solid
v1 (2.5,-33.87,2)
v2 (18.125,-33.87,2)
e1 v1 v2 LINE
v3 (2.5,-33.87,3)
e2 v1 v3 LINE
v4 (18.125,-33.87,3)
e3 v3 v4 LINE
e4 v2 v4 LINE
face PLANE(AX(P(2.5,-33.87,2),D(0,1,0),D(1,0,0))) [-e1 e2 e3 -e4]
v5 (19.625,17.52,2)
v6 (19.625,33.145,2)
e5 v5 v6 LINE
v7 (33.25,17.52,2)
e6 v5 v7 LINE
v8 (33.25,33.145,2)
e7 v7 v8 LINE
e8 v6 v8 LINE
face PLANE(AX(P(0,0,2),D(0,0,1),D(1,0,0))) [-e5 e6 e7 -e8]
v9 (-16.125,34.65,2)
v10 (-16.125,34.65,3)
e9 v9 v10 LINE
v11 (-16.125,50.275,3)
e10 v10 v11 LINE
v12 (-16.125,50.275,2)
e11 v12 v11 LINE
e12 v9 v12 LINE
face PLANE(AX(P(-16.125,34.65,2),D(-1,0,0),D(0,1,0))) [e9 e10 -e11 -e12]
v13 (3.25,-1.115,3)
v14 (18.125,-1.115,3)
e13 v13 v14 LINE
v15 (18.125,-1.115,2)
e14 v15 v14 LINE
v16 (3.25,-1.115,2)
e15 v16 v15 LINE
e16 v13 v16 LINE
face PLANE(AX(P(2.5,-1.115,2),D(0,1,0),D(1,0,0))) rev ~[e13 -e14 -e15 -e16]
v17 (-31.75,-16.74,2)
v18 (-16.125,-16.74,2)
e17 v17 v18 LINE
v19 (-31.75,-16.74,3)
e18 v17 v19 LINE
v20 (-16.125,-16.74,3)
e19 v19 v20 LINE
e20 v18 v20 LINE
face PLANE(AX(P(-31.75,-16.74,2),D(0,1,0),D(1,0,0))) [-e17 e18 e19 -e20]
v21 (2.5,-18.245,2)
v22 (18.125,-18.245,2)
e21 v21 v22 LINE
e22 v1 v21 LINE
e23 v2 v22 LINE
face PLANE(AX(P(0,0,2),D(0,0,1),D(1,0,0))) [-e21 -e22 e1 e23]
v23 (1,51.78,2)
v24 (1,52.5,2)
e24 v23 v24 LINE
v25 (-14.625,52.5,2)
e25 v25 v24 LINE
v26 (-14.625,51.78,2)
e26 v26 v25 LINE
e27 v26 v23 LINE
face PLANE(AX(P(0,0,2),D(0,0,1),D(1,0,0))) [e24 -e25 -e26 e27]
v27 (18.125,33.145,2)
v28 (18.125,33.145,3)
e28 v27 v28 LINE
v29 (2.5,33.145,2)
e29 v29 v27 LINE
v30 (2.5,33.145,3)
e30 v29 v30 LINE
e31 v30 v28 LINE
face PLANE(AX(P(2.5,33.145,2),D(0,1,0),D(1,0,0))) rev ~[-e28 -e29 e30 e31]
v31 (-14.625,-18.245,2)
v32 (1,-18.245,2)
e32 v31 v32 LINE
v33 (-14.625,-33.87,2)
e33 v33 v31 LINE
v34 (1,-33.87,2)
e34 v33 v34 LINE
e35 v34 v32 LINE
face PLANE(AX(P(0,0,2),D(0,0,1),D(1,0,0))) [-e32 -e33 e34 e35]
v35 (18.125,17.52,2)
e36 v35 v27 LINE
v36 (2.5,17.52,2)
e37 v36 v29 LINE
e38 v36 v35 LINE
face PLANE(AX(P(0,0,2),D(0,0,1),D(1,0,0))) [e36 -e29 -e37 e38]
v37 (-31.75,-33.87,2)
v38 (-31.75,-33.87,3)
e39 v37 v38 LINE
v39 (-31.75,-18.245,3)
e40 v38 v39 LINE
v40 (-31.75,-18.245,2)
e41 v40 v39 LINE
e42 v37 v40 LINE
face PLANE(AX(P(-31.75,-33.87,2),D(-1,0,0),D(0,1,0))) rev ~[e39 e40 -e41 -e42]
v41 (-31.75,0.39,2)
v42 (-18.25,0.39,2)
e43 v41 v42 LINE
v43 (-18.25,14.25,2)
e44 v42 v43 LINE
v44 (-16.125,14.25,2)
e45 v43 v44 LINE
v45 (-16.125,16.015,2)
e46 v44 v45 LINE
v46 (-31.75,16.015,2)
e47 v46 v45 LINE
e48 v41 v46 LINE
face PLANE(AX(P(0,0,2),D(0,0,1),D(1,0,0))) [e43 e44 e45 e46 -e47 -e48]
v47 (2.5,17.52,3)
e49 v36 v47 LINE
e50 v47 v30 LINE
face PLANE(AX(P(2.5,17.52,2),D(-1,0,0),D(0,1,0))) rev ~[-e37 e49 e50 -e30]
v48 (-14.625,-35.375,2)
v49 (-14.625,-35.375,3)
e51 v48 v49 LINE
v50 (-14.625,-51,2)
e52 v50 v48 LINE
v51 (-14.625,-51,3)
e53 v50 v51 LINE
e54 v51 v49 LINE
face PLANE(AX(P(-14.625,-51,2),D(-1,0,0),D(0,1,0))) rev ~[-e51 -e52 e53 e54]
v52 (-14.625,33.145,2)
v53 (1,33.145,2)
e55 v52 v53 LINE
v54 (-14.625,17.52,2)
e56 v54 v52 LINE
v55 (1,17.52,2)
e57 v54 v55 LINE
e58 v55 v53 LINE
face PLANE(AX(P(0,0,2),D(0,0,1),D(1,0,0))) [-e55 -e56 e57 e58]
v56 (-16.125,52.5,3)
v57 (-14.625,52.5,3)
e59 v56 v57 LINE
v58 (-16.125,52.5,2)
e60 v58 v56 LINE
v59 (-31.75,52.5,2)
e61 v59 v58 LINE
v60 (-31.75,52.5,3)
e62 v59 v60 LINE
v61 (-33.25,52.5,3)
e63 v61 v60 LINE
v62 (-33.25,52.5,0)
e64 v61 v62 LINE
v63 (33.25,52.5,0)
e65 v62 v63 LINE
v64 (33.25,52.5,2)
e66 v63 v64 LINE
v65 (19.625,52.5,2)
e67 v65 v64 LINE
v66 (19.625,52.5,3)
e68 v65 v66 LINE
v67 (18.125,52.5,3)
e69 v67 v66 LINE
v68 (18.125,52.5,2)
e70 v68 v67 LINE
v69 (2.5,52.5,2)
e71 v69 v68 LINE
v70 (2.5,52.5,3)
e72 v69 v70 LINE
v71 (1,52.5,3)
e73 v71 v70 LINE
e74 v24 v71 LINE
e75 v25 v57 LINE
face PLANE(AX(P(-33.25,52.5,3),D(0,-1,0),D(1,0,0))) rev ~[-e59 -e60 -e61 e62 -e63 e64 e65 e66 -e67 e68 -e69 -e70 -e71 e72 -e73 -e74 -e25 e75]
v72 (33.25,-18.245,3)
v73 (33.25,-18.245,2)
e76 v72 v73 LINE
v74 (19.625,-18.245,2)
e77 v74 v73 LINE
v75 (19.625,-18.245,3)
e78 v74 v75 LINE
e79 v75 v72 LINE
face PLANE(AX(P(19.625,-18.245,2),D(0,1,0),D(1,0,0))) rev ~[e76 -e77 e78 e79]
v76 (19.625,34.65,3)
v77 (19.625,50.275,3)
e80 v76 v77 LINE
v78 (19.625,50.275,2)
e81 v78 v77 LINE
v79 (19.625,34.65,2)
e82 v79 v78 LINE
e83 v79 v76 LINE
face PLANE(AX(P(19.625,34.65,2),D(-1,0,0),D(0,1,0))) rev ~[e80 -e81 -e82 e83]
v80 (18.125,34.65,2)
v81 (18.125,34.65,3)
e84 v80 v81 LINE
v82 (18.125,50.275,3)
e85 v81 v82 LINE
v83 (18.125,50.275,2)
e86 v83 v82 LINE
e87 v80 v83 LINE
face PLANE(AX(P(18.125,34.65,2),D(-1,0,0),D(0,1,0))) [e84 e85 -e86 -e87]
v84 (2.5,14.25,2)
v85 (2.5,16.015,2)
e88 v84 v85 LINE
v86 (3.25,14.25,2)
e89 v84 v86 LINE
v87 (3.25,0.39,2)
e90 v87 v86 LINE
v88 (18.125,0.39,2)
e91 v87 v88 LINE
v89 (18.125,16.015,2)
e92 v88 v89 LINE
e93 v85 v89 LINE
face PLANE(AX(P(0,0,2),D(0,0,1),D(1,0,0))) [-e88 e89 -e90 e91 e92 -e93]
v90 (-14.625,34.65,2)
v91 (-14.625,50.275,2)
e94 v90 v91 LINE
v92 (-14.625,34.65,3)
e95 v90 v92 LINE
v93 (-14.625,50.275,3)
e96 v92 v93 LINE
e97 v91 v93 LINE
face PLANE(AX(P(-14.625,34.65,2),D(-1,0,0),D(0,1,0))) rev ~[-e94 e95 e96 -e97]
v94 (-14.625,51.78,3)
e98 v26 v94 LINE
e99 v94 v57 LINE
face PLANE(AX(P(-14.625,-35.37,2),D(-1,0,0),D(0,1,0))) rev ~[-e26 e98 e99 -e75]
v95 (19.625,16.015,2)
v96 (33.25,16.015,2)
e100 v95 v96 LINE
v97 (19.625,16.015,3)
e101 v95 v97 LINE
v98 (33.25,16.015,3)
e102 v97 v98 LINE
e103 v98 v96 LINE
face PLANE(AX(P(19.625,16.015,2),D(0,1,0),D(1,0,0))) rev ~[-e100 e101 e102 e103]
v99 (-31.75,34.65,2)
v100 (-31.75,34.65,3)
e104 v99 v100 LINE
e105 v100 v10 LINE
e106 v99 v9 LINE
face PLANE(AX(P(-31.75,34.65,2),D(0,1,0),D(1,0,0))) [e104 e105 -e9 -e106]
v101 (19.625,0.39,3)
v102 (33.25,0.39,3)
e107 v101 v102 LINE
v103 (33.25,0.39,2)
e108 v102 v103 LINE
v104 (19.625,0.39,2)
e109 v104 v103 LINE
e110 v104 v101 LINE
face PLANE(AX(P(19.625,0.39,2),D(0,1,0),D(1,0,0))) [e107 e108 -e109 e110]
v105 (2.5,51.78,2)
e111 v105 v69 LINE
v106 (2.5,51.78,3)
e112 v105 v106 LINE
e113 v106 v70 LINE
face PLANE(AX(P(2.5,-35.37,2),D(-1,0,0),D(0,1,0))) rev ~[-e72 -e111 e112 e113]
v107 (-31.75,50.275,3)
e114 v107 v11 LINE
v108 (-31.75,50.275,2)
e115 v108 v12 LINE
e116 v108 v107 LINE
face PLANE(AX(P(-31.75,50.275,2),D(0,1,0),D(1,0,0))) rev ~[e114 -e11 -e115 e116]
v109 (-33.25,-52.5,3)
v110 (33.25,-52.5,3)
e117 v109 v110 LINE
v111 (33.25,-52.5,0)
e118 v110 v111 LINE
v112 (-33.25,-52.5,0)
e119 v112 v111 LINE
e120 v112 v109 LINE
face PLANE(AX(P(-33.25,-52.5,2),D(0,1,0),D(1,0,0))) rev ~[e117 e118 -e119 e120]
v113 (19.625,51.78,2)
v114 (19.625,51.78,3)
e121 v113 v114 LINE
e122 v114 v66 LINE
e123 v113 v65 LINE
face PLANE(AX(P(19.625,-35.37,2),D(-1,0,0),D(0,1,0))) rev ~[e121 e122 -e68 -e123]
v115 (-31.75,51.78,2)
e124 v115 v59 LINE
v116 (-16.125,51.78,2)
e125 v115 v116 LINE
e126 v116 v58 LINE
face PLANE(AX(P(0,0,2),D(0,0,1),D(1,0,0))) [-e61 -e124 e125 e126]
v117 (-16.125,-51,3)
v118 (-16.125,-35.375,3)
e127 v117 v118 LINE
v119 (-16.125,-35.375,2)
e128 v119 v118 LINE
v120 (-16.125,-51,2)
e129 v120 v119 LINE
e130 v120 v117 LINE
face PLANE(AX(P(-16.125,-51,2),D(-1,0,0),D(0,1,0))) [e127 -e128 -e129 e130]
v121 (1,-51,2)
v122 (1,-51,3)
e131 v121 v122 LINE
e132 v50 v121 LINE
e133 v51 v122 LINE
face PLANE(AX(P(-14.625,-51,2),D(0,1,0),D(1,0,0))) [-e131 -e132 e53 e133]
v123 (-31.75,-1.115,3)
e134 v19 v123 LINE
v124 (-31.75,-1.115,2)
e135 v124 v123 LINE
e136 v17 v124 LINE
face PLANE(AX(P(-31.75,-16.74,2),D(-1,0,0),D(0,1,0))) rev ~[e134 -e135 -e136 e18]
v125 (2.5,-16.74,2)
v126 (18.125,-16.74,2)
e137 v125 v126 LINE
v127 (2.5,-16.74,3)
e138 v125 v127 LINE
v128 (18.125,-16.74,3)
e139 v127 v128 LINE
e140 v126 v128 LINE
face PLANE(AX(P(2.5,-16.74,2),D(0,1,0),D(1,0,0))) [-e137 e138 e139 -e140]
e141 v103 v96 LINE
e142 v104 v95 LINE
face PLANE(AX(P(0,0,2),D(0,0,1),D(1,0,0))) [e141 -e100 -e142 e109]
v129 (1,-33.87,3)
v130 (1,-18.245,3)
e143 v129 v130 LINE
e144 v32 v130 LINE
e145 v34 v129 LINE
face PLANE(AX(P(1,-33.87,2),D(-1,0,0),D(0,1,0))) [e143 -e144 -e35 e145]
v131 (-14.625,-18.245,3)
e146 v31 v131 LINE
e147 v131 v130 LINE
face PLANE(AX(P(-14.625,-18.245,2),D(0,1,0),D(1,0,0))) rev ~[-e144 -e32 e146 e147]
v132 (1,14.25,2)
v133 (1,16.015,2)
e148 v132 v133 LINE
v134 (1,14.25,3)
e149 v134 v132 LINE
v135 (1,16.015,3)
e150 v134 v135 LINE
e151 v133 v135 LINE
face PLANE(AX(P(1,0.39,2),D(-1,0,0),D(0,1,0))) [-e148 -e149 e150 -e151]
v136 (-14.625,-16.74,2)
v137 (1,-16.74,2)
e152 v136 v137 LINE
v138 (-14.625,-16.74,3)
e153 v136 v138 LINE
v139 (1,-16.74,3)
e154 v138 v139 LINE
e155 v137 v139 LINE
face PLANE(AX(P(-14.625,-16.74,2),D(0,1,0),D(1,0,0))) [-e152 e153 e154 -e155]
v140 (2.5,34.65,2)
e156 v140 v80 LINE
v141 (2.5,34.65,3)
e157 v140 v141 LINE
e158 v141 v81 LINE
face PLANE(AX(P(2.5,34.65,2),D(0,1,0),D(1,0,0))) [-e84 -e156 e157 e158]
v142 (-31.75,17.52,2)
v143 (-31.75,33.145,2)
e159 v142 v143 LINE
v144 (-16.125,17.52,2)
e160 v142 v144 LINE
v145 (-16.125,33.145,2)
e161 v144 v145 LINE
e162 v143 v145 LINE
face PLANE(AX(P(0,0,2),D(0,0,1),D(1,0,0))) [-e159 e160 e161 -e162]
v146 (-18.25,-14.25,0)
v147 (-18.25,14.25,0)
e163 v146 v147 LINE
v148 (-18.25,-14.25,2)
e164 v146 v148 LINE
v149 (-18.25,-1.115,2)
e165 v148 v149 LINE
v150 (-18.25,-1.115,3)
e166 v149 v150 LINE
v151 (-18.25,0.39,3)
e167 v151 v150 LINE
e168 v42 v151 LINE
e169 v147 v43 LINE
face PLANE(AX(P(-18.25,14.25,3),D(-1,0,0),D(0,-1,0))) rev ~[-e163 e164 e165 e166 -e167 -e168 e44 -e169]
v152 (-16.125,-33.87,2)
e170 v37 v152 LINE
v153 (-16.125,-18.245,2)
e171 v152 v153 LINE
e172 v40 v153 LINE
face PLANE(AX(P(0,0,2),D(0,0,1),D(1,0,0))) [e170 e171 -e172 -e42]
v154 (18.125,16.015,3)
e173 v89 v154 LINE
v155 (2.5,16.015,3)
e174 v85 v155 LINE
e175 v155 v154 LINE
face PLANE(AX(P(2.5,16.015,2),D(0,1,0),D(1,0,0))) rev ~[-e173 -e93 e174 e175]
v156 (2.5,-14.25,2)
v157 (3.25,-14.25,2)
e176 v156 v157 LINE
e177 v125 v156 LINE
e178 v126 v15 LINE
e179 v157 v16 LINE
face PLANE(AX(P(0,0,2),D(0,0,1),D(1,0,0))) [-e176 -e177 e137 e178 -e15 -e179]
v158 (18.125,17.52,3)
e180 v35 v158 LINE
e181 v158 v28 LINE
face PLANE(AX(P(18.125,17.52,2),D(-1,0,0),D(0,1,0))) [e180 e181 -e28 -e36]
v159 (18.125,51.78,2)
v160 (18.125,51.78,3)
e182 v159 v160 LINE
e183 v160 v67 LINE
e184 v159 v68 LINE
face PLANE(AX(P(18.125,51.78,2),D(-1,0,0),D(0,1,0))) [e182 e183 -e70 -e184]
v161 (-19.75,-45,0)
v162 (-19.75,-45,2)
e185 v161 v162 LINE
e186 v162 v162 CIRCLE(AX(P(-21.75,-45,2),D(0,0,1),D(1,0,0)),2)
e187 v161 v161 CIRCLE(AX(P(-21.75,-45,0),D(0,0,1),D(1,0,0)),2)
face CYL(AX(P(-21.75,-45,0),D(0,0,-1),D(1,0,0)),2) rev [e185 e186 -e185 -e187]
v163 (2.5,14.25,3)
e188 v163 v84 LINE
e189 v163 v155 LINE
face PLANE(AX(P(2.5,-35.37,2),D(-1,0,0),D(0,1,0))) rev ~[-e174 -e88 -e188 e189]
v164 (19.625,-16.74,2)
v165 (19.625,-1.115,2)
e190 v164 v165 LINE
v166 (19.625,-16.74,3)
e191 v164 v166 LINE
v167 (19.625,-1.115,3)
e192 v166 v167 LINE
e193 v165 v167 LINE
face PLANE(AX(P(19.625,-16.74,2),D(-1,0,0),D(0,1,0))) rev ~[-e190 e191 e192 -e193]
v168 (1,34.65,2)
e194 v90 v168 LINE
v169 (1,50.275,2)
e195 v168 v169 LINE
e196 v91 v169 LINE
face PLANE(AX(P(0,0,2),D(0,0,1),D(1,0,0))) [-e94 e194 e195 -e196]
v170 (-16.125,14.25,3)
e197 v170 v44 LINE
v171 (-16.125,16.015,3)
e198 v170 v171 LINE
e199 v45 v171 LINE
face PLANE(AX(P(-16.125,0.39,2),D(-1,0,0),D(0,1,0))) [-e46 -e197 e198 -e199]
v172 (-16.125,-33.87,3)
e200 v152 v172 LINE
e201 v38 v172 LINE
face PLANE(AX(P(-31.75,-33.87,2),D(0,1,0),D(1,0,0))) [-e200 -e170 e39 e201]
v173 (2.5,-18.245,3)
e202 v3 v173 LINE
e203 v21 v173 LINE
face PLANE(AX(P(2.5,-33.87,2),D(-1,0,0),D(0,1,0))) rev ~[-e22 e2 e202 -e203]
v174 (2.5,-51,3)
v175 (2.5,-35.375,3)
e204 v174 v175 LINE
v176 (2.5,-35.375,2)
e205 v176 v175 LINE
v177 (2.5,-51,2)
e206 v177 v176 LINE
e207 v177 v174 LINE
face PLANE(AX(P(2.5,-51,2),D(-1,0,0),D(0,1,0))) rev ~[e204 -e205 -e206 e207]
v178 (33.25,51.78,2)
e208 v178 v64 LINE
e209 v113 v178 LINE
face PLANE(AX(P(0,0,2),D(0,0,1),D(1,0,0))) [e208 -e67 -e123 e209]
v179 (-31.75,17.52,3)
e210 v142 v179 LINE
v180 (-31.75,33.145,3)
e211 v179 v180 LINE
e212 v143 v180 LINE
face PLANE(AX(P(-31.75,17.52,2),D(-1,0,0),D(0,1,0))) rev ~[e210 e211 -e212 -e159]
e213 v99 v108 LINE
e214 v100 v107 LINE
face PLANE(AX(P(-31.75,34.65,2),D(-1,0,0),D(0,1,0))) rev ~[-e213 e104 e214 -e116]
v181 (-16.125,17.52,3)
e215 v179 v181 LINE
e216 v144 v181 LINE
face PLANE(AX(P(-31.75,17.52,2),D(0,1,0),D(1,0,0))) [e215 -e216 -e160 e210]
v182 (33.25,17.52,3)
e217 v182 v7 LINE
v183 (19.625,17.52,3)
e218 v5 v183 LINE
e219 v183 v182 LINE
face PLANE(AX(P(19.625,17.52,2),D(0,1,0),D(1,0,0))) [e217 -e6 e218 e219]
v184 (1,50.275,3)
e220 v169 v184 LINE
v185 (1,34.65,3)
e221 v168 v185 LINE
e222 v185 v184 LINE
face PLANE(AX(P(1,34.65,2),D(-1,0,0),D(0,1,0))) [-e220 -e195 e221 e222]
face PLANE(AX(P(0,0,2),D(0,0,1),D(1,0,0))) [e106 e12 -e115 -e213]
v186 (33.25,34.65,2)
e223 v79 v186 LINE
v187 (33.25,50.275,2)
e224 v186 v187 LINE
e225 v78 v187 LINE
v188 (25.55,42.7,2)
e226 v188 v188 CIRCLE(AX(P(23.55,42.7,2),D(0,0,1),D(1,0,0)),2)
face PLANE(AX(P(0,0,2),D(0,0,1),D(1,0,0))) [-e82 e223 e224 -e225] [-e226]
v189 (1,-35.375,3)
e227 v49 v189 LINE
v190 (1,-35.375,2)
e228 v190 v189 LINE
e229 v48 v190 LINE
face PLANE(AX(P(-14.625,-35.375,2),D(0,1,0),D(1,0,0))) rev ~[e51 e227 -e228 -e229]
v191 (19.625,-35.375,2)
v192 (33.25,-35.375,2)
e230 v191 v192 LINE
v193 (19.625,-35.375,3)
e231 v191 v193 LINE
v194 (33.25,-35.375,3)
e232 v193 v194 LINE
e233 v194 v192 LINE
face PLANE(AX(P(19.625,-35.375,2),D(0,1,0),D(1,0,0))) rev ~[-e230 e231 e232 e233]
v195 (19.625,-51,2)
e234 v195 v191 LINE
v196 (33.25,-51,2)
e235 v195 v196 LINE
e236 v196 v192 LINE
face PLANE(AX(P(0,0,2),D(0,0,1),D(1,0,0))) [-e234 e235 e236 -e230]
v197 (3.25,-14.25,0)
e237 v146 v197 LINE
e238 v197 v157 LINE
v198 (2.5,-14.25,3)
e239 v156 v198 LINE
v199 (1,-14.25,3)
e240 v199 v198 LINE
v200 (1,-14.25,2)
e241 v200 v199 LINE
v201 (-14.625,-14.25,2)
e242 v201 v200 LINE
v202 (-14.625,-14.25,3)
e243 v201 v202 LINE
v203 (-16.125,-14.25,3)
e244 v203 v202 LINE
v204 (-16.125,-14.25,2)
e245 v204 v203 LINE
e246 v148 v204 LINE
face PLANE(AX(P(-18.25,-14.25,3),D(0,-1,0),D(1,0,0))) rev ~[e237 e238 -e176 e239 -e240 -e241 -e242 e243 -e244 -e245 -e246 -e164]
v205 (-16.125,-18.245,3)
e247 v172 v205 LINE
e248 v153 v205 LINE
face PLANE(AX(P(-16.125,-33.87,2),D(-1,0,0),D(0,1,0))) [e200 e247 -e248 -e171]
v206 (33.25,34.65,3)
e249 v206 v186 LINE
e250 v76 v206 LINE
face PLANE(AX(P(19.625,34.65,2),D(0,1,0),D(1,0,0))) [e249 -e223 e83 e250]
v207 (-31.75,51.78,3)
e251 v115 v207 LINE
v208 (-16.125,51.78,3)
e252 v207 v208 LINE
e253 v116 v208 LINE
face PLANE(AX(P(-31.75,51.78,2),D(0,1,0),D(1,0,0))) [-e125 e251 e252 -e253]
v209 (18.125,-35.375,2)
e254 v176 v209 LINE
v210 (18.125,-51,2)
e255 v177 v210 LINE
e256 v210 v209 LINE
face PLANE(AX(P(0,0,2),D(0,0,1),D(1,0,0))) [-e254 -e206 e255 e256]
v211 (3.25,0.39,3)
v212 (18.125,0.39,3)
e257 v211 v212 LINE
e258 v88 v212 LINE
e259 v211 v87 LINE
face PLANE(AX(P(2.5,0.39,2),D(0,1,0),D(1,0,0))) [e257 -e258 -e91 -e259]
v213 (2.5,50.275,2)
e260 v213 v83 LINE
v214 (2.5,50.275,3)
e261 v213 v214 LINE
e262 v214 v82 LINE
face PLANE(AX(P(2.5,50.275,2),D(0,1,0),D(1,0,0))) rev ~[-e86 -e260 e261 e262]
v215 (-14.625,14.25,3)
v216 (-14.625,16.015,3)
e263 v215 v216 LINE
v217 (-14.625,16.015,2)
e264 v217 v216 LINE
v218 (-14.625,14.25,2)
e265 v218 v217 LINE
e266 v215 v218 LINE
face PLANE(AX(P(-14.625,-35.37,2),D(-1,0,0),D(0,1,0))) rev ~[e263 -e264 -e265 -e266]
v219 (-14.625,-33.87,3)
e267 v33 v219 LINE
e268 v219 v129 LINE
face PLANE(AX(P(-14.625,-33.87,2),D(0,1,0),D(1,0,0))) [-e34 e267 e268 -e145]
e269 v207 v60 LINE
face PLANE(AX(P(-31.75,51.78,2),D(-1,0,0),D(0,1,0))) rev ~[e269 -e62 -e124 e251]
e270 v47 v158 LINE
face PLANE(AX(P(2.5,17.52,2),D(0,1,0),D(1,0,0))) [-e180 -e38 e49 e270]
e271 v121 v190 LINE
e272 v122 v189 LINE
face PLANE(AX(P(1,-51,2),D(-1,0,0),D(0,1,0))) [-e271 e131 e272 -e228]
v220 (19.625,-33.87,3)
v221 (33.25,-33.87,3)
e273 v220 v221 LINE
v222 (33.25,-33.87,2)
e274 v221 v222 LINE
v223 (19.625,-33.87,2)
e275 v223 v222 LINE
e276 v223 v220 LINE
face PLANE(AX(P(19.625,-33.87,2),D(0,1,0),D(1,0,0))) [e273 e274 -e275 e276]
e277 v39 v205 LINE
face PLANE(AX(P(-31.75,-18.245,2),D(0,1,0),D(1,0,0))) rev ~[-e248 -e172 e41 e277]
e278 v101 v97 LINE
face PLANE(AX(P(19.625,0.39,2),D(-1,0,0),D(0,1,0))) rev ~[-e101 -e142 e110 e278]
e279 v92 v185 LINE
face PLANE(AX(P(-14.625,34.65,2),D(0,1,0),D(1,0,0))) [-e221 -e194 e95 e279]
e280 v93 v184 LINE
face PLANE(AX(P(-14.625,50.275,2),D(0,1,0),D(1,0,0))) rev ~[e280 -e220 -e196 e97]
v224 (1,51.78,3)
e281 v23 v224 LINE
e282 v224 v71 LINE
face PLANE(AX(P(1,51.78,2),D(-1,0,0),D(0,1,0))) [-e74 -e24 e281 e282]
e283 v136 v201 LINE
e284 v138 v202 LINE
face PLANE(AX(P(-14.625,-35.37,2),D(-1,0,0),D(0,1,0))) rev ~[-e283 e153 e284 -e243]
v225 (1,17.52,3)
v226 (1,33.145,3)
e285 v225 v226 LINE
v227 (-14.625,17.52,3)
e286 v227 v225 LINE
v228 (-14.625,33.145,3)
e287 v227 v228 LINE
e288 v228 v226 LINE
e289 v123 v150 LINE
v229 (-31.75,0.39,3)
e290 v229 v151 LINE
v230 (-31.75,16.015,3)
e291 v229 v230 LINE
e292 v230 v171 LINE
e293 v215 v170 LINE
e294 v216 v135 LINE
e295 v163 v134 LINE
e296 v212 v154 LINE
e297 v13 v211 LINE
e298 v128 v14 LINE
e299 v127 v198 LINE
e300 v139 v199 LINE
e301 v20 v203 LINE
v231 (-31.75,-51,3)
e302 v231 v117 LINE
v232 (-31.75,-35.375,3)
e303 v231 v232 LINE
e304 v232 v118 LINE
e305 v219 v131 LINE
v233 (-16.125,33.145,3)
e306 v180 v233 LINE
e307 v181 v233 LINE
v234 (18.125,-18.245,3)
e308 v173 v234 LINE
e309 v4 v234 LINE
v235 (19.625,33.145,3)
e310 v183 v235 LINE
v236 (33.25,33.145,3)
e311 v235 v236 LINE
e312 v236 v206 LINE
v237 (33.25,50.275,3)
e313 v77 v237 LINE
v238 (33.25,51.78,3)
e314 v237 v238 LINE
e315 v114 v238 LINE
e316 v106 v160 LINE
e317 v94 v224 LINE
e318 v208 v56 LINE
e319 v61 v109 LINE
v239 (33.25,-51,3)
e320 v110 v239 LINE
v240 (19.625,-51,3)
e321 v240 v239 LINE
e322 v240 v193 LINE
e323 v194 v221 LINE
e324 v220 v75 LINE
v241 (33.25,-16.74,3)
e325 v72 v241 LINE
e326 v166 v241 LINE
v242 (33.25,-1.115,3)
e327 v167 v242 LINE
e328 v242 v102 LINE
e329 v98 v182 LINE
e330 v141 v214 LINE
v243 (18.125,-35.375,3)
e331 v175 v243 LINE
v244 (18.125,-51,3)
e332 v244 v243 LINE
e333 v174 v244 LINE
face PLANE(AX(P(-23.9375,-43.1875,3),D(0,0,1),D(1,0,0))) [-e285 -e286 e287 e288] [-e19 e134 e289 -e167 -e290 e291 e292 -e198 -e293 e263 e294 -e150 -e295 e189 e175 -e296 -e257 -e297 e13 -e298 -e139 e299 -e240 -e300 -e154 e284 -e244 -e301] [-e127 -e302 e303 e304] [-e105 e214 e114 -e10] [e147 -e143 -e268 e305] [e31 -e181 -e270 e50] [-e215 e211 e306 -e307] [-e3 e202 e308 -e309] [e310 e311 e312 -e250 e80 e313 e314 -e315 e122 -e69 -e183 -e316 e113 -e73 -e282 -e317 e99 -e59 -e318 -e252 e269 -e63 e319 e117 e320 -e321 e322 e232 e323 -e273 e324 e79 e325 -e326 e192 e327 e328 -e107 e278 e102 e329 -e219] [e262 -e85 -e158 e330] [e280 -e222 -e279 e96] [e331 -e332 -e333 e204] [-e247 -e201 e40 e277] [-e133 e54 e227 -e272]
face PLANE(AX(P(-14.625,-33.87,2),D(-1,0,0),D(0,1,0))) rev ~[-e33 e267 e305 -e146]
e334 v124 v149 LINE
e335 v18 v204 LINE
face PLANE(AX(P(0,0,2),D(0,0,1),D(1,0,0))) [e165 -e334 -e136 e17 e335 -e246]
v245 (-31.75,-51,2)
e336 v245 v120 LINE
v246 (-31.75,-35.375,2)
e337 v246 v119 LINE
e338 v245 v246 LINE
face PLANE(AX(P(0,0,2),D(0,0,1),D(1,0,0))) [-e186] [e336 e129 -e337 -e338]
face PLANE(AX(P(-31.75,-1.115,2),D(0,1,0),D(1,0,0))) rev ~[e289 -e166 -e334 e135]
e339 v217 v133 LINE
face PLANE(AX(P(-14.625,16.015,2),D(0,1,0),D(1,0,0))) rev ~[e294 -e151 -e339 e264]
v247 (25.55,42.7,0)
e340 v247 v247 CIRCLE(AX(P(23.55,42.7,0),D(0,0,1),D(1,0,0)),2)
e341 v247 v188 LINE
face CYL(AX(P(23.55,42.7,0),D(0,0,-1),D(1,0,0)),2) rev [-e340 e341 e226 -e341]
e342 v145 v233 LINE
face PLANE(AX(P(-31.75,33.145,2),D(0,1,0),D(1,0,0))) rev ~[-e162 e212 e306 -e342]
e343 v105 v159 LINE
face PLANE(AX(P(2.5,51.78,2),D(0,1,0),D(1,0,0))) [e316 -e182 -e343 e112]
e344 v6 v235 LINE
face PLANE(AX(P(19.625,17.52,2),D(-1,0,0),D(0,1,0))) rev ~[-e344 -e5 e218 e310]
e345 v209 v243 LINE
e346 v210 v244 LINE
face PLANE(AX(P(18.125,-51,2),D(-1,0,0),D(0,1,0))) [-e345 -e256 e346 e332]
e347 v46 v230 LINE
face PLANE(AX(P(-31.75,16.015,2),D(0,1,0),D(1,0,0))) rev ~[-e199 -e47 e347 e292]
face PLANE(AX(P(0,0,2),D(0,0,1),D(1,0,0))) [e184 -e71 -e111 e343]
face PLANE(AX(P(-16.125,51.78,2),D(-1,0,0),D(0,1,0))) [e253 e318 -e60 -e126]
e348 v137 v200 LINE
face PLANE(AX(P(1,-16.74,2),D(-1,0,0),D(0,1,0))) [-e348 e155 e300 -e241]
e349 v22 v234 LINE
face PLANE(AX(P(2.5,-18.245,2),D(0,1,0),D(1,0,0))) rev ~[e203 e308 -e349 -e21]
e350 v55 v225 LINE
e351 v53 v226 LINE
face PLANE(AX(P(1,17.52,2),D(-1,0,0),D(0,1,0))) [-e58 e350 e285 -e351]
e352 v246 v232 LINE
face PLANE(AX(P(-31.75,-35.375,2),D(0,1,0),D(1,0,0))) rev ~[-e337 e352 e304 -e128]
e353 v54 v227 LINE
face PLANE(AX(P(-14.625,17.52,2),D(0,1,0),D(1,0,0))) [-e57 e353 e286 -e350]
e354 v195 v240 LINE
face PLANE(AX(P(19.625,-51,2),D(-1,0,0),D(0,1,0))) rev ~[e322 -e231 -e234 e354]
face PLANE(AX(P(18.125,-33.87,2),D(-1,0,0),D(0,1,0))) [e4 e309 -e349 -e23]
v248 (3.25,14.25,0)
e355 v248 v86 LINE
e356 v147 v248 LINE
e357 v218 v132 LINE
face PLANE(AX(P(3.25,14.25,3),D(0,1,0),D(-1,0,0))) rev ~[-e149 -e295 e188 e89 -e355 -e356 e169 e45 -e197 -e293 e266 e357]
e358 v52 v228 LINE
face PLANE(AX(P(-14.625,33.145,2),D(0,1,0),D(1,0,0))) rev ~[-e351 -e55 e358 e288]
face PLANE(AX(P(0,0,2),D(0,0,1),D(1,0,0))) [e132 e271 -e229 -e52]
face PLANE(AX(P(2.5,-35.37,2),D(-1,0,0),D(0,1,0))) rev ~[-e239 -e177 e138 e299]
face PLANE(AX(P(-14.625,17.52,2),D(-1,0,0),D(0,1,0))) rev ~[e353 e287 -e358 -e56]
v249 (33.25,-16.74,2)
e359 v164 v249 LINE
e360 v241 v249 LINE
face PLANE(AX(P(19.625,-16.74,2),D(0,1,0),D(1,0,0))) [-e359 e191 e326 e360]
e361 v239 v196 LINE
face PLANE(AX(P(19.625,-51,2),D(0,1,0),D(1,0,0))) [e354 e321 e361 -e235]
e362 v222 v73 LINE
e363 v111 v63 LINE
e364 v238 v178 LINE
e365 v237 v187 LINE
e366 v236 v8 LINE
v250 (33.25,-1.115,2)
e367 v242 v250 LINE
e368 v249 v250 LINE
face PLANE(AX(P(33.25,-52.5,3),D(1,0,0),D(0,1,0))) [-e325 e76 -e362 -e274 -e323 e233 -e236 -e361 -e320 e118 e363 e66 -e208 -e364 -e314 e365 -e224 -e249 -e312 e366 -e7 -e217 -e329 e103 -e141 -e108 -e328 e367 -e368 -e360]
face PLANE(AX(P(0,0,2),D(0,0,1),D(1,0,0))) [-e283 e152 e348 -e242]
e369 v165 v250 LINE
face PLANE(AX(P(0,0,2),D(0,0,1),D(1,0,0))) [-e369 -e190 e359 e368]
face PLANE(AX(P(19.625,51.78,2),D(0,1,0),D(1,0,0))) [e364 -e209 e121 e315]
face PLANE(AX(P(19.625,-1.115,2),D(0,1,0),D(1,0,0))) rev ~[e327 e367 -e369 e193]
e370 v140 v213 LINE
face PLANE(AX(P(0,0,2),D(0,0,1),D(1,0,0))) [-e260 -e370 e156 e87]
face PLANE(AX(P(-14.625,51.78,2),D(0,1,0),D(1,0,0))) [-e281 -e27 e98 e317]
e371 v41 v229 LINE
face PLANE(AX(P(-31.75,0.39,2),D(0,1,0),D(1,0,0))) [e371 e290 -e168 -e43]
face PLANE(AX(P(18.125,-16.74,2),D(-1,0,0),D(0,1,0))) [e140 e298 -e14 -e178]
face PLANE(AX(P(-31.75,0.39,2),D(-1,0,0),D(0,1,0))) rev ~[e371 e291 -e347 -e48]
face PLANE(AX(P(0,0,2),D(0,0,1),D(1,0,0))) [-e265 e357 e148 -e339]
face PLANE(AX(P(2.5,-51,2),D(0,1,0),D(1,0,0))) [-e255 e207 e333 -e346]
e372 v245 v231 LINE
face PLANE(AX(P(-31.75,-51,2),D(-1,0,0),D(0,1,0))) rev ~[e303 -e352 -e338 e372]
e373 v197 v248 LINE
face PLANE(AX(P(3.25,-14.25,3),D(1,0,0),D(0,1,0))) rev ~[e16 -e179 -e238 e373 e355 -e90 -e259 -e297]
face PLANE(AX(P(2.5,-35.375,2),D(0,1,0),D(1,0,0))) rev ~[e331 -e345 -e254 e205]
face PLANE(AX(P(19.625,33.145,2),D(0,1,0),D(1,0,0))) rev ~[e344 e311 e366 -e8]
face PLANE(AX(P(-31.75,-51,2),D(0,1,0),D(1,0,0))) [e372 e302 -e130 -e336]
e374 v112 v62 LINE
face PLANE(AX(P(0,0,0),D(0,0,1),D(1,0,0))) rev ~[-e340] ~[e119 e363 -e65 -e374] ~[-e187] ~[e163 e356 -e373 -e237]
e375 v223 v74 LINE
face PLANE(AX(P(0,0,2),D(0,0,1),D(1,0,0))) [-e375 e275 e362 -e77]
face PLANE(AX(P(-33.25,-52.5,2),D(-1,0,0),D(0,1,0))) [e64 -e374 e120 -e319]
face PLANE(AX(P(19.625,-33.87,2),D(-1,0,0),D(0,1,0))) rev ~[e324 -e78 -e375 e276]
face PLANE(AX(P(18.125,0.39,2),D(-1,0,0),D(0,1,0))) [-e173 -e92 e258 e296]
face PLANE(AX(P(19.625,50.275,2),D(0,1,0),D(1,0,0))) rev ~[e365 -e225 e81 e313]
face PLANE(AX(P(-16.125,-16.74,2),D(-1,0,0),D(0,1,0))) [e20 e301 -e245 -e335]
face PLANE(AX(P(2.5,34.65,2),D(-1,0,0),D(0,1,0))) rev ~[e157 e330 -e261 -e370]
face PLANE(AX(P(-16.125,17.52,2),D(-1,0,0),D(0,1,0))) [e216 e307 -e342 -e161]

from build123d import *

# Parameters (mm, degrees)
SKETCH_W                      = 66.5
SKETCH_H                      = 105
SKETCH_R                      = 2
SKETCH_W_2                    = 21.5
SKETCH_H_2                    = 28.5
PAD_DEPTH                     = 2
SKETCH002_W                   = 18.625
SKETCH002_H                   = 18.625
SKETCH002_W_2                 = 15.625
SKETCH002_H_2                 = 15.625
PAD002_DEPTH                  = 1
SKETCH002_LINEARPATTERN_2_W   = 18.625
SKETCH002_LINEARPATTERN_2_H   = 18.625
SKETCH002_LINEARPATTERN_2_W_2 = 15.625
SKETCH002_LINEARPATTERN_2_H_2 = 15.625
PAD002_LINEARPATTERN_2_DEPTH  = 1
SKETCH002_LINEARPATTERN_3_W   = 18.625
SKETCH002_LINEARPATTERN_3_H   = 18.625
SKETCH002_LINEARPATTERN_3_W_2 = 15.625
SKETCH002_LINEARPATTERN_3_H_2 = 15.625
PAD002_LINEARPATTERN_3_DEPTH  = 1
SKETCH002_LINEARPATTERN_4_W   = 18.625
SKETCH002_LINEARPATTERN_4_H   = 18.625
SKETCH002_LINEARPATTERN_4_W_2 = 15.625
SKETCH002_LINEARPATTERN_4_H_2 = 15.625
PAD002_LINEARPATTERN_4_DEPTH  = 1
LINEARPATTERN002_COUNT        = 9
LINEARPATTERN002_PITCH        = 17.13
SKETCH003_W                   = 150.48745
SKETCH003_H                   = 190.076035
SKETCH003_W_2                 = 66.5
SKETCH003_H_2                 = 105
POCKET_DEPTH                  = 5


with BuildPart() as part:
    # Sketch (on XY_Plane of Origin) → Pad (new body)
    with BuildSketch(Plane.XY):
        Rectangle(SKETCH_W, SKETCH_H)
        with Locations((-21.75, -45)):
            Circle(SKETCH_R, mode=Mode.SUBTRACT)
        with Locations((23.55, 42.7)):
            Circle(SKETCH_R, mode=Mode.SUBTRACT)
        with Locations((-7.5, 0)):
            Rectangle(SKETCH_W_2, SKETCH_H_2, mode=Mode.SUBTRACT)
    extrude(amount=PAD_DEPTH)

    # Sketch002 (on Face12 of Pad) → Pad002 (join)
    with BuildSketch(Plane.XY.offset(2)):
        with Locations((-23.9375, -43.1875)):
            Rectangle(SKETCH002_W, SKETCH002_H)
        with Locations((-23.9375, -43.1875)):
            Rectangle(SKETCH002_W_2, SKETCH002_H_2, mode=Mode.SUBTRACT)
    pad002 = extrude(amount=PAD002_DEPTH)

    # Sketch002 LinearPattern 2 → Pad002 LinearPattern 2 (add)
    with BuildSketch(Plane(origin=(17.125, 0, 2), x_dir=(1, 0, 0), z_dir=(0, 0, 1))):
        with Locations((-23.9375, -43.1875)):
            Rectangle(SKETCH002_LINEARPATTERN_2_W, SKETCH002_LINEARPATTERN_2_H)
        with Locations((-23.9375, -43.1875)):
            Rectangle(SKETCH002_LINEARPATTERN_2_W_2, SKETCH002_LINEARPATTERN_2_H_2, mode=Mode.SUBTRACT)
    pad002_linearpattern_2 = extrude(amount=PAD002_LINEARPATTERN_2_DEPTH)

    # Sketch002 LinearPattern 3 → Pad002 LinearPattern 3 (add)
    with BuildSketch(Plane(origin=(34.25, 0, 2), x_dir=(1, 0, 0), z_dir=(0, 0, 1))):
        with Locations((-23.9375, -43.1875)):
            Rectangle(SKETCH002_LINEARPATTERN_3_W, SKETCH002_LINEARPATTERN_3_H)
        with Locations((-23.9375, -43.1875)):
            Rectangle(SKETCH002_LINEARPATTERN_3_W_2, SKETCH002_LINEARPATTERN_3_H_2, mode=Mode.SUBTRACT)
    pad002_linearpattern_3 = extrude(amount=PAD002_LINEARPATTERN_3_DEPTH)

    # Sketch002 LinearPattern 4 → Pad002 LinearPattern 4 (add)
    with BuildSketch(Plane(origin=(51.375, 0, 2), x_dir=(1, 0, 0), z_dir=(0, 0, 1))):
        with Locations((-23.9375, -43.1875)):
            Rectangle(SKETCH002_LINEARPATTERN_4_W, SKETCH002_LINEARPATTERN_4_H)
        with Locations((-23.9375, -43.1875)):
            Rectangle(SKETCH002_LINEARPATTERN_4_W_2, SKETCH002_LINEARPATTERN_4_H_2, mode=Mode.SUBTRACT)
    pad002_linearpattern_4 = extrude(amount=PAD002_LINEARPATTERN_4_DEPTH)

    # LinearPattern002: Pad002, Pad002 LinearPattern 2, Pad002 LinearPattern 3, Pad002 LinearPattern 4 ×9
    with Locations(*[(0, i * LINEARPATTERN002_PITCH, 0) for i in range(1, LINEARPATTERN002_COUNT)]):
        add(pad002)
        add(pad002_linearpattern_2)
        add(pad002_linearpattern_3)
        add(pad002_linearpattern_4)

    # Sketch003 (on Face131 of MultiTransform) → Pocket (cut)
    with BuildSketch(Plane.XY.offset(3)):
        with Locations((-0.924236, 18.80619)):
            Rectangle(SKETCH003_W, SKETCH003_H)
        Rectangle(SKETCH003_W_2, SKETCH003_H_2, mode=Mode.SUBTRACT)
        Polygon((-16.125, 14.25), (-14.625, 14.25), (1, 14.25), (2.5, 14.25), (3.25, 14.25), (3.25, 0.39), (3.25, -1.115), (3.25, -14.25), (2.5, -14.25), (1, -14.25), (-14.625, -14.25), (-16.125, -14.25), (-18.25, -14.25), (-18.25, -1.115), (-18.25, 0.39), (-18.25, 14.25), align=None)
    extrude(amount=-POCKET_DEPTH, mode=Mode.SUBTRACT)


solid = part.part
